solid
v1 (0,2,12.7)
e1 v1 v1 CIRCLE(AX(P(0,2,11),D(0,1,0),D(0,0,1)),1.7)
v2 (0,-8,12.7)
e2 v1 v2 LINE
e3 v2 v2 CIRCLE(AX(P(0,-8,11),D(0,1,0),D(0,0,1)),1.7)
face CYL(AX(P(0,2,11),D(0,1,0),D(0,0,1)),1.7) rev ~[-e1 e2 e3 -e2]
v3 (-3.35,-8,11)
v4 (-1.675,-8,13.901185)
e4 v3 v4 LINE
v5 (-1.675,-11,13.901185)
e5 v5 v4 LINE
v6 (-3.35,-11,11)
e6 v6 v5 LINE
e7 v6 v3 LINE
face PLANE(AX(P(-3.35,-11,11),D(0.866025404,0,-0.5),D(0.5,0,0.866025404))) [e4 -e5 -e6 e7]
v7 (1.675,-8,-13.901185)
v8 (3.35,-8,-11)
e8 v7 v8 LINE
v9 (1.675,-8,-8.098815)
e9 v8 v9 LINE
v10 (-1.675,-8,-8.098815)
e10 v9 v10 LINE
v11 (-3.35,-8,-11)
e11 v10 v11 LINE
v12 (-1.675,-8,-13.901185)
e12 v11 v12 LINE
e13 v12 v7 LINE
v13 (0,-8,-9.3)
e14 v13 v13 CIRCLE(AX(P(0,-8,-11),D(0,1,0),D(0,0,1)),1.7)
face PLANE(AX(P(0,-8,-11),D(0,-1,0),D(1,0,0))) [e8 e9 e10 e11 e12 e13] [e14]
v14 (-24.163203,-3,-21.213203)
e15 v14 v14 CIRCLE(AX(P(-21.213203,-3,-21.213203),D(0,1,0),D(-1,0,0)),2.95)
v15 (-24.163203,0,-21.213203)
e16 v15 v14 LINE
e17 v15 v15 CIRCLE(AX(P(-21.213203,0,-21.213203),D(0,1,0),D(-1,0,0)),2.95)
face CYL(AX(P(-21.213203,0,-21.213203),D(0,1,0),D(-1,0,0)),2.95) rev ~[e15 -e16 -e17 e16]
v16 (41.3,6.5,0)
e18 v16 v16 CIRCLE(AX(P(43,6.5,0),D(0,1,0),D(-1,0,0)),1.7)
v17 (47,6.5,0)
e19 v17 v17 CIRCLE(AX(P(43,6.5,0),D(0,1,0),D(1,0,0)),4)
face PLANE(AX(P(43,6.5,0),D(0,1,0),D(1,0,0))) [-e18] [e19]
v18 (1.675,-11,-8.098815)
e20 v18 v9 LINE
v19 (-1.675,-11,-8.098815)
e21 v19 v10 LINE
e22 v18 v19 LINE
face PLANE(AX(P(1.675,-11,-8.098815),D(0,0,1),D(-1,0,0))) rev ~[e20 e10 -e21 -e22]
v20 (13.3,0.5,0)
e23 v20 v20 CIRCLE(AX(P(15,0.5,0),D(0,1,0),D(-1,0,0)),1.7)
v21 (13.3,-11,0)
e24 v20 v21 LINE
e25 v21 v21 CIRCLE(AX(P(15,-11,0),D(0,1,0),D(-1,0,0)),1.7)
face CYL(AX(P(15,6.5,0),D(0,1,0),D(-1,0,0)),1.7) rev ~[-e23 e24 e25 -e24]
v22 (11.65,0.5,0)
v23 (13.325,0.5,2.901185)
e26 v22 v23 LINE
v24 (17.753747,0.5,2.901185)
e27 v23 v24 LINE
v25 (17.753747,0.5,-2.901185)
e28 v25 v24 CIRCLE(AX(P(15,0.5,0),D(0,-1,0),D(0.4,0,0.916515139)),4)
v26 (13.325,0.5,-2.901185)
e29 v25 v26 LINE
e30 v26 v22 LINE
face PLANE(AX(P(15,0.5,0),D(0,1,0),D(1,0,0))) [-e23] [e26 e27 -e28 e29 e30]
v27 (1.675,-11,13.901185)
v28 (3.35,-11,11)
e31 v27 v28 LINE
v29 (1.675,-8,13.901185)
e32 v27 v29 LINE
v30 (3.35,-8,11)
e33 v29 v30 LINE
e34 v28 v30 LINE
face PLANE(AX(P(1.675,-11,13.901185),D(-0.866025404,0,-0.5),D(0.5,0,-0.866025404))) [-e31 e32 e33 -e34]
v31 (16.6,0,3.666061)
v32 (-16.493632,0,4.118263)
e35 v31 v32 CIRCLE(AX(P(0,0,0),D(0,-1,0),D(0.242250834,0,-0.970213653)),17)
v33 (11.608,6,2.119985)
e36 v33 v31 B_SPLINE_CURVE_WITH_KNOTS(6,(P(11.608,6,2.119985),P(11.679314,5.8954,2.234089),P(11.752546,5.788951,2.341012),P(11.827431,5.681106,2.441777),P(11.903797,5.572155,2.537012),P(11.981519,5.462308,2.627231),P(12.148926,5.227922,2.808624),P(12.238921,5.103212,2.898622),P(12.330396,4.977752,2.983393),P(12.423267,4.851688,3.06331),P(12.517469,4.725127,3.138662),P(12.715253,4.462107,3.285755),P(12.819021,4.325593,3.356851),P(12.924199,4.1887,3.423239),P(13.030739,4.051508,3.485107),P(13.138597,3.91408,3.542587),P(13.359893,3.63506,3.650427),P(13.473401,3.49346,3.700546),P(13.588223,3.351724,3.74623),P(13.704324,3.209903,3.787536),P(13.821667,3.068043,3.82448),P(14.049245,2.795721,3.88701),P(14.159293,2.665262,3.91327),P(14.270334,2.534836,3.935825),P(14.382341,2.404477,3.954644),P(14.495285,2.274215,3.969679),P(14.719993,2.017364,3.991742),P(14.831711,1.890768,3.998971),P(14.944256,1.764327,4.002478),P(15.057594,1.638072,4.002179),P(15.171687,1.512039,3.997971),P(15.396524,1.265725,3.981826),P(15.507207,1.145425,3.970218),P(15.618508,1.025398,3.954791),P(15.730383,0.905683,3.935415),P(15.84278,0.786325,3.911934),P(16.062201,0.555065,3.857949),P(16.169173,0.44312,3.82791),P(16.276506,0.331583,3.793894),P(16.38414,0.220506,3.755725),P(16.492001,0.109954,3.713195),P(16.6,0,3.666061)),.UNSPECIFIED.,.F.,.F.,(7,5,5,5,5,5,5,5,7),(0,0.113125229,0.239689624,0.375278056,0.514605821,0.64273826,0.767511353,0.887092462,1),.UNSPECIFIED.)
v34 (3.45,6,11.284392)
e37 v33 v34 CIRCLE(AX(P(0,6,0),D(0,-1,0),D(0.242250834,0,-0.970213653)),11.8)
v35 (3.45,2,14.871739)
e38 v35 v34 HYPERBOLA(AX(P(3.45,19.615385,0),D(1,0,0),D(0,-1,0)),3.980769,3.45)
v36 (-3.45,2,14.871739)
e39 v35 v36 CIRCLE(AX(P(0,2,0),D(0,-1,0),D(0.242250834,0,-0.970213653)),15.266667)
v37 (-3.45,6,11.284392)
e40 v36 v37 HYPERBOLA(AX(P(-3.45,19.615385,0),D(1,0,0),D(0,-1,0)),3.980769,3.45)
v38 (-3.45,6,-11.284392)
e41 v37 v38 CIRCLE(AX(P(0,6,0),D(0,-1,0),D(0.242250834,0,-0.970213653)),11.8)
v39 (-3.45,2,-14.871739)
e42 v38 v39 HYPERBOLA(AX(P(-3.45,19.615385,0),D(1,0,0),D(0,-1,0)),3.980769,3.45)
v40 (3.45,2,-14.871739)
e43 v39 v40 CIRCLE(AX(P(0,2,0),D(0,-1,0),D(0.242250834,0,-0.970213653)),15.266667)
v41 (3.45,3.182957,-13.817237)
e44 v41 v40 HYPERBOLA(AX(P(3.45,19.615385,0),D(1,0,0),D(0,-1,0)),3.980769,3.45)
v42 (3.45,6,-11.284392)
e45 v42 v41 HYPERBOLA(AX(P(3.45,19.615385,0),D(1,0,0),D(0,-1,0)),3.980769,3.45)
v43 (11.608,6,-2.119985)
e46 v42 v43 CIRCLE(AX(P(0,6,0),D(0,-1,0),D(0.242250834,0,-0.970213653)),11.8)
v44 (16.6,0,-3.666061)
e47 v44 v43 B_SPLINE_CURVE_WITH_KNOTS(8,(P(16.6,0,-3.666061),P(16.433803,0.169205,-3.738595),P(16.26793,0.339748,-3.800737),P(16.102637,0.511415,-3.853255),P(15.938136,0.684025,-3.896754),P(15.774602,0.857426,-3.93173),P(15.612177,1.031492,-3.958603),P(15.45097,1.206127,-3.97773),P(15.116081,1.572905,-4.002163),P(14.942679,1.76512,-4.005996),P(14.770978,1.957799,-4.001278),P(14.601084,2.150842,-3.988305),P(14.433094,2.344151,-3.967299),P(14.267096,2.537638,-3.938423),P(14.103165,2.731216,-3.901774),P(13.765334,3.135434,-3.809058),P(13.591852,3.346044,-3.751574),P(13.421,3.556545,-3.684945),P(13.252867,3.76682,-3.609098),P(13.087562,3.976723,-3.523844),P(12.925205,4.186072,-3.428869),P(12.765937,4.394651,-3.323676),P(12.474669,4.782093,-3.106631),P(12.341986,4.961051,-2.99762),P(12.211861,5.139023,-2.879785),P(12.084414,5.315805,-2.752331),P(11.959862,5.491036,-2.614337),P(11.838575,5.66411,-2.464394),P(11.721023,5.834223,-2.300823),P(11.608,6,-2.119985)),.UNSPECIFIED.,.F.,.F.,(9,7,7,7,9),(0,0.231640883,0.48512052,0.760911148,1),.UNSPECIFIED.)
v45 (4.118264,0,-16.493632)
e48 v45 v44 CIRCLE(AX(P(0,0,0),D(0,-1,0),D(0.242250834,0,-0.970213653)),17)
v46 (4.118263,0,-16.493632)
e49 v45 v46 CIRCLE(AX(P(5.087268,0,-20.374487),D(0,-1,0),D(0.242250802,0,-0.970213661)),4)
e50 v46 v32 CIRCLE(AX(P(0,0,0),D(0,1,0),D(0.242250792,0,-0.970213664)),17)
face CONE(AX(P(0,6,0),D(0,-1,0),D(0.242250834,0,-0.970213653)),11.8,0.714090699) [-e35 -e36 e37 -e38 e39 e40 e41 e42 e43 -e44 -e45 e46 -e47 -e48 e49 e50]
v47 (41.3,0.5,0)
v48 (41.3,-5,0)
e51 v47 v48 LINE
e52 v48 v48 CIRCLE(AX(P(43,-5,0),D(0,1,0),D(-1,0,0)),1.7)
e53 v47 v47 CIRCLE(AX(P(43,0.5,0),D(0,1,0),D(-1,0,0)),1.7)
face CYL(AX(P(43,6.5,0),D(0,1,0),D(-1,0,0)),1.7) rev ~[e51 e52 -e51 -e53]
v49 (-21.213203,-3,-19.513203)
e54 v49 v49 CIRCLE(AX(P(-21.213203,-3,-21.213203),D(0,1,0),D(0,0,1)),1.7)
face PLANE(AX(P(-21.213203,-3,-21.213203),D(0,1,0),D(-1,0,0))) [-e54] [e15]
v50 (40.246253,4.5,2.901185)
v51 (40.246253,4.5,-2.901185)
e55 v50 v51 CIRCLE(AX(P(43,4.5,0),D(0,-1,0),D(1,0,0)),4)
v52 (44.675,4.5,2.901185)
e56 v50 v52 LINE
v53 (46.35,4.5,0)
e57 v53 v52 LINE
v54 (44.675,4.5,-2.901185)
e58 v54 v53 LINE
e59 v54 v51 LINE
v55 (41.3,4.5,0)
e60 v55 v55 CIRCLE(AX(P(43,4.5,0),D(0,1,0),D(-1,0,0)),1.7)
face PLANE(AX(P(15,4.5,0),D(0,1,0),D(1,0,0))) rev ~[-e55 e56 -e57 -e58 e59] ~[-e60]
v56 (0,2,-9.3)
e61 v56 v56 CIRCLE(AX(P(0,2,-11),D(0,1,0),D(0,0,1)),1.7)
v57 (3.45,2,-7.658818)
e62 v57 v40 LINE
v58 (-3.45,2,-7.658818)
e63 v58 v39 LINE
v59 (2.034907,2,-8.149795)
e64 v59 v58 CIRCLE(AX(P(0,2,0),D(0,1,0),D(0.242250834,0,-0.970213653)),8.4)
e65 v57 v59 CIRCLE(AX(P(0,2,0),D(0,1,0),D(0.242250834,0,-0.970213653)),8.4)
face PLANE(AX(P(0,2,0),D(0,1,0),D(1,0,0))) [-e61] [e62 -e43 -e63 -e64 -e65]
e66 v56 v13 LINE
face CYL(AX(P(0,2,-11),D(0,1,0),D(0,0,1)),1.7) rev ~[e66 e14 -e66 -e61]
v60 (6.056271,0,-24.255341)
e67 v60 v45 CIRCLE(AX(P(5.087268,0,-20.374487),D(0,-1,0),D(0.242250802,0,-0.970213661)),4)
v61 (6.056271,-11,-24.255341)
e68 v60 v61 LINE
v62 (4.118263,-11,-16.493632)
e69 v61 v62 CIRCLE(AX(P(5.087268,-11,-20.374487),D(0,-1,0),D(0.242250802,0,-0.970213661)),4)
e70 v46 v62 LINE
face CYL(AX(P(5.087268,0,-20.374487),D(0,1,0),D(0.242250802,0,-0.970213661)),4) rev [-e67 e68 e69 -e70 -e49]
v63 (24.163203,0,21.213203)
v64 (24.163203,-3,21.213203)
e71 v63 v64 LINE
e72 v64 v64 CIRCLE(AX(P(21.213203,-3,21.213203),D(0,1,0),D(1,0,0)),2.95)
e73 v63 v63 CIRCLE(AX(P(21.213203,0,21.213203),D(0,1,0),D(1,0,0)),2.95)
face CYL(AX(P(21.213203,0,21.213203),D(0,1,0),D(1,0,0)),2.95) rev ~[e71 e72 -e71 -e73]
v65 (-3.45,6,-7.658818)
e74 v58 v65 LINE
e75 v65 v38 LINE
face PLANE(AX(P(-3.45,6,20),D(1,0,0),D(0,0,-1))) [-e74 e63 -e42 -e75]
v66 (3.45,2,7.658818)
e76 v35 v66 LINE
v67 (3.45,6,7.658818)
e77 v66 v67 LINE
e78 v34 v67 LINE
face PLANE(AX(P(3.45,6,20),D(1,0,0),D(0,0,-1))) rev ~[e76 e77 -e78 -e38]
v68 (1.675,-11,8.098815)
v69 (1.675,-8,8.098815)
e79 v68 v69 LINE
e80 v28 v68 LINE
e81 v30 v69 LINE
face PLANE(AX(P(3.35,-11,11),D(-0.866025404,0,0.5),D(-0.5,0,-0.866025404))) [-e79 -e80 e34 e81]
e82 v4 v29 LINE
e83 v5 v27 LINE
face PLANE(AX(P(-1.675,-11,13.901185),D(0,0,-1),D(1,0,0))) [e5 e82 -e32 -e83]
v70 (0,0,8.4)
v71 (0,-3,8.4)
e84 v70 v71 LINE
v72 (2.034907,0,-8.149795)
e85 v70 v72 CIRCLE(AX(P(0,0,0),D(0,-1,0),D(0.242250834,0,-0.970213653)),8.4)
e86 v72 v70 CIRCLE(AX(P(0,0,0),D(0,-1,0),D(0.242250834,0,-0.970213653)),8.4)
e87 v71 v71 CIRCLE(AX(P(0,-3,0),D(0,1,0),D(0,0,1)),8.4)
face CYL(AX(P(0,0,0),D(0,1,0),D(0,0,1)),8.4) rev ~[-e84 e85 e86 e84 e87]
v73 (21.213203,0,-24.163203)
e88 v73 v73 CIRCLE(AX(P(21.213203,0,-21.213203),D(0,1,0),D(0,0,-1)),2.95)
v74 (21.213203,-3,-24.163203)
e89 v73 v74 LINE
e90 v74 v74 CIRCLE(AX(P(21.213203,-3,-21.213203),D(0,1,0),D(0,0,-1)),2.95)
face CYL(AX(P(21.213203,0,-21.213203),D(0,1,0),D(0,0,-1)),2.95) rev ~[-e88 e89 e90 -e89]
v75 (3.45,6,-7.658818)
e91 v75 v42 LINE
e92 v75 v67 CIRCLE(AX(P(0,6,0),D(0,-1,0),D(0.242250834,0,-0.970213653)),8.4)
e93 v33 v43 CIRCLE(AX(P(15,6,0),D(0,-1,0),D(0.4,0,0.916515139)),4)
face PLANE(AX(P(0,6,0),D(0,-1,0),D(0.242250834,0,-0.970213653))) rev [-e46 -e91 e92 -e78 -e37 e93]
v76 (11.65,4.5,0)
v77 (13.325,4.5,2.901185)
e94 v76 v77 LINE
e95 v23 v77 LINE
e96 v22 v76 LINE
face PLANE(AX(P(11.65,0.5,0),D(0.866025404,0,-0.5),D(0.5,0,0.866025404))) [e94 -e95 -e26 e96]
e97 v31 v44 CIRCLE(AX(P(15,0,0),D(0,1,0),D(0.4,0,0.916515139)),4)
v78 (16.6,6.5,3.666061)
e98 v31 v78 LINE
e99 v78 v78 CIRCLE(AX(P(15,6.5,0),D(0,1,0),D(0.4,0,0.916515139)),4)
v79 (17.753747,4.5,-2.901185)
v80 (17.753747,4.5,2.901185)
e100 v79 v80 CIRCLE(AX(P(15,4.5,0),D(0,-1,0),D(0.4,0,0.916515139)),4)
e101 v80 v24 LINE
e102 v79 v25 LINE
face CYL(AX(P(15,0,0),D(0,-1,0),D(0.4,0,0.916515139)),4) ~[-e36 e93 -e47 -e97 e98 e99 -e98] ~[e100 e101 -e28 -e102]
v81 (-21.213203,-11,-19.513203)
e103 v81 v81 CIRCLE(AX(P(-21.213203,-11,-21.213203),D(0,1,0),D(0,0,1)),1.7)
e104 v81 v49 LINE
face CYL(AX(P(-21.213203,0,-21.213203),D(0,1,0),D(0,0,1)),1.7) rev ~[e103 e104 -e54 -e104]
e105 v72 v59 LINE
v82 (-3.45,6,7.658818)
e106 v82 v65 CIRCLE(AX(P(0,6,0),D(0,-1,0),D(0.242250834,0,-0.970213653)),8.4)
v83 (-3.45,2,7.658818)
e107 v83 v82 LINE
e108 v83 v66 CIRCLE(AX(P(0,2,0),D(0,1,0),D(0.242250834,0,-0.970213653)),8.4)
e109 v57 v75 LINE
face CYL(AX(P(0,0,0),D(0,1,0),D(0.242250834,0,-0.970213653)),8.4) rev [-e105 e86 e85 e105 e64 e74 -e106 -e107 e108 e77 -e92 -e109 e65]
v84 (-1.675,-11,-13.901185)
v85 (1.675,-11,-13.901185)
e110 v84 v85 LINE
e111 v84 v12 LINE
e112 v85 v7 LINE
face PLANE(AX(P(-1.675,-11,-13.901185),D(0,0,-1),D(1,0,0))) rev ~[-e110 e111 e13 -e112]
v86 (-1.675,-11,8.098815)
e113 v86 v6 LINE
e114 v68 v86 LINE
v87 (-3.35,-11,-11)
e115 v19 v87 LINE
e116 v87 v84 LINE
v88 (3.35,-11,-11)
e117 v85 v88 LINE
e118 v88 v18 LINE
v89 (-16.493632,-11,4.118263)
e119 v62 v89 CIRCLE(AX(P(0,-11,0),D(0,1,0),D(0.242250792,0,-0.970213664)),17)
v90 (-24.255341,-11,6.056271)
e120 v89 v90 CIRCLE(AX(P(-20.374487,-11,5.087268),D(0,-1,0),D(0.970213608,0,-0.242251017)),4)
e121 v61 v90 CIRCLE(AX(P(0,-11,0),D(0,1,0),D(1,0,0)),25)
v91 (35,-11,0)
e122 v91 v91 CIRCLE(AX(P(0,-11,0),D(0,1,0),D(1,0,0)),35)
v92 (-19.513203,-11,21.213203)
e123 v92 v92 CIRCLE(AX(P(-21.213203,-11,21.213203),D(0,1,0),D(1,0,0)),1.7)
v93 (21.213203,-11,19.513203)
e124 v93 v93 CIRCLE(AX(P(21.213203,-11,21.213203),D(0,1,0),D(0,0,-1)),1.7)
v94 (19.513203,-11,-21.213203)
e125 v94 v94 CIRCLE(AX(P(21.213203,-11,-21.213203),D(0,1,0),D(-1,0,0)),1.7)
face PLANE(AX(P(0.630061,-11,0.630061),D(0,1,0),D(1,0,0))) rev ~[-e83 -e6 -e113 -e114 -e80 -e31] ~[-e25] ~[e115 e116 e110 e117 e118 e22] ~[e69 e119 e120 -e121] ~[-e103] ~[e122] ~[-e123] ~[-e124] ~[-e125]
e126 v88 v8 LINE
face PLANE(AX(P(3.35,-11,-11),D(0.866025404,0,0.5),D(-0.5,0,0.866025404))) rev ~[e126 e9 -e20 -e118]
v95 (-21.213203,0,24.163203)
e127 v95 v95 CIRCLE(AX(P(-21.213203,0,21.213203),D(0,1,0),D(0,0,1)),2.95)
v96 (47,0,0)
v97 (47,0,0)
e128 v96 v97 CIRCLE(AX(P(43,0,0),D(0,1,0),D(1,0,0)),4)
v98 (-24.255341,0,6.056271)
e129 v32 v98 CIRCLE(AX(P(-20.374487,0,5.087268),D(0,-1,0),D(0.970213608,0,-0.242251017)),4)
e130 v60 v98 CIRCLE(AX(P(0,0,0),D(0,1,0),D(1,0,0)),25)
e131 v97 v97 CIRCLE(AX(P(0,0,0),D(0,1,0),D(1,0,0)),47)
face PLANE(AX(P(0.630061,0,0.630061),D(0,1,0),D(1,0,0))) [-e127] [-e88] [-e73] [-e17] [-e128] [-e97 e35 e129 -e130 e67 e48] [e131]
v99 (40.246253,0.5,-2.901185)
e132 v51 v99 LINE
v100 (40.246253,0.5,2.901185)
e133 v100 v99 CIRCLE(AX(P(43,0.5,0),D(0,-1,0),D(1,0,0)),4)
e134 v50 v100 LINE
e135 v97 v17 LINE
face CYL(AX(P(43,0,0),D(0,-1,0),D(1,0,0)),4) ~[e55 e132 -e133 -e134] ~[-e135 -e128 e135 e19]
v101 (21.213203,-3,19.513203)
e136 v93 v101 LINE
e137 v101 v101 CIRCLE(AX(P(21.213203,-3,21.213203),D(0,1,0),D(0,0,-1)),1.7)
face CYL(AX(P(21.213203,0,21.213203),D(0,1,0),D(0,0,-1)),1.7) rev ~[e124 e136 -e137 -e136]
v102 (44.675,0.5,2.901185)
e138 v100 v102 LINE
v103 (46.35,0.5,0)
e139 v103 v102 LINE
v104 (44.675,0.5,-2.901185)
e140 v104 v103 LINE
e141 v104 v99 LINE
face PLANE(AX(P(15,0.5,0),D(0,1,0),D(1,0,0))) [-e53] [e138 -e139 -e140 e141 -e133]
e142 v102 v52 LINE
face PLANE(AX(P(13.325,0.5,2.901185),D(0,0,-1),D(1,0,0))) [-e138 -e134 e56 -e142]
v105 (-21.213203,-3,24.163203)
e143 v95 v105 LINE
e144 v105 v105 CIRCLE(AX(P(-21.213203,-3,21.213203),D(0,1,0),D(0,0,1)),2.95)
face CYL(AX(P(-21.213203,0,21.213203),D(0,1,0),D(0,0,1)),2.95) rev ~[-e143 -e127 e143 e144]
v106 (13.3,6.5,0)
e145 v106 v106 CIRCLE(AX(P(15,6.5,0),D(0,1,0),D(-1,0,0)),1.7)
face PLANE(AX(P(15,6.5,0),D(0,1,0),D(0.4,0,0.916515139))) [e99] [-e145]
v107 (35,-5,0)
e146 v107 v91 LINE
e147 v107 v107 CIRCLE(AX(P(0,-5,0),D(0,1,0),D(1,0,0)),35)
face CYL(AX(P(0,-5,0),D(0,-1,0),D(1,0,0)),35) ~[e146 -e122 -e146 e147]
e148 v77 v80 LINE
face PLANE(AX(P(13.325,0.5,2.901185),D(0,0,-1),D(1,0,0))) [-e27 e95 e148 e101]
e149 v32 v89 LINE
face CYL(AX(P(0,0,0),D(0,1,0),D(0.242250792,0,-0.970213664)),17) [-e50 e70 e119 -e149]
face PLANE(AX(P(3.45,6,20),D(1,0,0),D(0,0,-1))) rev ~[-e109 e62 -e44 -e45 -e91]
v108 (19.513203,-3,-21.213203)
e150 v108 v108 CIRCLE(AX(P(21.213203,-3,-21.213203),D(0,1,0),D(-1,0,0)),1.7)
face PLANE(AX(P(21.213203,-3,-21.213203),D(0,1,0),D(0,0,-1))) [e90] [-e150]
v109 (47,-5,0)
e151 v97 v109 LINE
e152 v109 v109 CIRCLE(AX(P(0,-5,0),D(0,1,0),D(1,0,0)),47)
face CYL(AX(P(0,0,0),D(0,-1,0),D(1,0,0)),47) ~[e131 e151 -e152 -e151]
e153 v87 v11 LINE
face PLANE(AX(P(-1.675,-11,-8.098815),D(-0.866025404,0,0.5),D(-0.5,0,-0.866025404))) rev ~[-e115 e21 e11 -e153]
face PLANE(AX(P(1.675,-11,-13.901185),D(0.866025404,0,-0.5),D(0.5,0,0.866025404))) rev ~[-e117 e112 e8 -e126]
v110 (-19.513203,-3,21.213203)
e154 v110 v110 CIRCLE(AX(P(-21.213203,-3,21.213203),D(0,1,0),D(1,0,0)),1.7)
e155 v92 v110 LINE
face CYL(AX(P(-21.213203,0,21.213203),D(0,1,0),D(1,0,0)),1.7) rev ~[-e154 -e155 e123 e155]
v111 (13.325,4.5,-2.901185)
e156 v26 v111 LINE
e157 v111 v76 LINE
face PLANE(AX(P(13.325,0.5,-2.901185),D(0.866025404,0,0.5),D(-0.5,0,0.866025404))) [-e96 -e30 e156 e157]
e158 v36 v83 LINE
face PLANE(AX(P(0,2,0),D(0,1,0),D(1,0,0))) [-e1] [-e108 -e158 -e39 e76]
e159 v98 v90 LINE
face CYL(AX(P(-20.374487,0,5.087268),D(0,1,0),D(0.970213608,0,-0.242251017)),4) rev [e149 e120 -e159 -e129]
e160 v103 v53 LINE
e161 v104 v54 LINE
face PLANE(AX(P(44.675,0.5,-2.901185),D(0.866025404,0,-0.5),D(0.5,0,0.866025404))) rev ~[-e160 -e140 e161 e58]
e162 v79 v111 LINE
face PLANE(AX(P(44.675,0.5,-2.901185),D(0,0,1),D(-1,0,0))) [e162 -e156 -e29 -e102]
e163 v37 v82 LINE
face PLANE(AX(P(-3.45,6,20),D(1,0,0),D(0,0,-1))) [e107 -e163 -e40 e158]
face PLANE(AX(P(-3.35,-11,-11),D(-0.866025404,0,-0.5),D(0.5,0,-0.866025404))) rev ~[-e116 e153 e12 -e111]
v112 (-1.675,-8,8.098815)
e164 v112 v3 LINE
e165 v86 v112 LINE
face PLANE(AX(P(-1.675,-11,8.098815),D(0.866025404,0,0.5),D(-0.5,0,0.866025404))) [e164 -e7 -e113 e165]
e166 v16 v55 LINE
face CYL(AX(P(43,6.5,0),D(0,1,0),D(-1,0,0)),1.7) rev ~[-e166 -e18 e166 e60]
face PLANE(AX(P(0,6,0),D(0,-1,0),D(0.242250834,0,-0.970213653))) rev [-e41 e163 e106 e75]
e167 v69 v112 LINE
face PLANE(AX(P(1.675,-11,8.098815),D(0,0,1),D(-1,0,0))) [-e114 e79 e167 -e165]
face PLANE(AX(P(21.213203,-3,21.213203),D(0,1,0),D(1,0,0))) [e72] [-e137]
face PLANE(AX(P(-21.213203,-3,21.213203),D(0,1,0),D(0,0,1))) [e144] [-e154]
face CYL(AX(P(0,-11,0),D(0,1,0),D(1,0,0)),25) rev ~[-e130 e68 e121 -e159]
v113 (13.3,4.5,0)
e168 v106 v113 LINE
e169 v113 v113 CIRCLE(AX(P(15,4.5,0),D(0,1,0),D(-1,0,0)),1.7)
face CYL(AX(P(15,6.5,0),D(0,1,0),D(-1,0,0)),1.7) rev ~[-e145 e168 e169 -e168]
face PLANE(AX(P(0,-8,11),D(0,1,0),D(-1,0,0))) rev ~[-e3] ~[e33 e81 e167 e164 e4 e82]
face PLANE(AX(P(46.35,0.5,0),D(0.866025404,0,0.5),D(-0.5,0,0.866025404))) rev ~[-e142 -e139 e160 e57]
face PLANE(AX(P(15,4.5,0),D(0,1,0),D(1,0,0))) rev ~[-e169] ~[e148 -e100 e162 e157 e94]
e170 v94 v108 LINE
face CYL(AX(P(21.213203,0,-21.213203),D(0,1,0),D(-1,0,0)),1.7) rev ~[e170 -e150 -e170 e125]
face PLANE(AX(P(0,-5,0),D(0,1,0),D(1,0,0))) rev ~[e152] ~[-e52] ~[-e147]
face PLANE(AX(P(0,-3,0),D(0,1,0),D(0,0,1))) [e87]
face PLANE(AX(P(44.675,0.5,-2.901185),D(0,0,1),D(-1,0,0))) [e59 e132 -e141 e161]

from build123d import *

# Parameters (mm, degrees)
SKETCH3_R               = 1.7
CUT_EXTRUDE1_DEPTH      = 68.372101051
CIRPATTERN1_COUNT       = 4
BOSS_EXTRUDE1_DEPTH     = 11
SKETCH6_R               = 8.4
CUT_EXTRUDE2_DEPTH      = 3
SKETCH7_W               = 6.9
SKETCH7_H               = 40
CUT_EXTRUDE3_DEPTH      = 4
SKETCH8_R               = 1.7
CUT_EXTRUDE4_DEPTH      = 68.727394753
SKETCH9_R               = 4
BOSS_EXTRUDE2_DEPTH     = 6.5
SKETCH10_R              = 1.7
CUT_EXTRUDE5_DEPTH      = 69.733179761
CUT_EXTRUDE6_DEPTH      = 1
CUT_EXTRUDE6_DEPTH_BACK = 3
SKETCH12_R              = 2.95
CUT_EXTRUDE7_DEPTH      = 3
CIRPATTERN2_COUNT       = 4
CUT_EXTRUDE8_DEPTH      = 3


with BuildPart() as part:
    # Sketch1 → Revolve1 (revolve)
    with BuildSketch(Plane.XY):
        Polygon((25, 0), (47, 0), (47, -5), (35, -5), (35, -11), (25, -11), align=None)
    revolve(axis=Axis((0, -62.255842479, 0), (0, 1, 0)))

    # Sketch3 → Cut-Extrude1 (cut, symmetric)
    with BuildSketch(Plane(origin=(0, 0, 0), x_dir=(1, 0, 0), z_dir=(0, 1, 0))):
        with Locations(Location((21.213203436, 21.213203436, 0), (0, 0, 180))):
            Circle(SKETCH3_R)
    cut_extrude1 = extrude(amount=CUT_EXTRUDE1_DEPTH, both=True, mode=Mode.SUBTRACT)

    # CirPattern1: Cut-Extrude1 ×4 about axis
    cirpattern1_axis = Axis((0, 0, 0), (0, 1, 0))
    for i in range(1, CIRPATTERN1_COUNT):
        add(cut_extrude1.rotate(cirpattern1_axis, i * 360 / CIRPATTERN1_COUNT), mode=Mode.SUBTRACT)

    # Sketch4 → Boss-Extrude1 (add, through all)
    with BuildSketch(Plane(origin=(0, 0, 0), x_dir=(1, 0, 0), z_dir=(0, 1, 0))):
        with BuildLine():
            ThreePointArc((4.118263467, 16.493632287), (-12.020815273, 12.020815288), (-16.493632292, -4.118263447))
            ThreePointArc((-16.493632292, -4.118263447), (-19.405482869, -8.968121999), (-24.255341261, -6.056271155))
            ThreePointArc((-24.255341261, -6.056271155), (17.677669687, -17.677669372), (6.056270723, 24.255341369))
            ThreePointArc((6.056270723, 24.255341369), (8.968122055, 19.405483096), (4.118263467, 16.493632287))
        make_face()
    extrude(amount=-BOSS_EXTRUDE1_DEPTH)

    # Sketch5 → Revolve2 (revolve)
    with BuildSketch(Plane(origin=(0, 0, 0), x_dir=(0, 0, -1), z_dir=(1, 0, 0)), mode=Mode.PRIVATE) as revolve2_sk:
        Polygon((-8.4, 0), (-8.4, 6), (-11.8, 6), (-17, 0), align=None)
    revolve(revolve2_sk.sketch.rotate(Axis((0, 0, 0), (0, -1, 0)), 194.019424572), axis=Axis((0, 0, 0), (0, -1, 0)))

    # Sketch6 → Cut-Extrude2 (cut)
    with BuildSketch(Plane(origin=(0, 0, 0), x_dir=(1, 0, 0), z_dir=(0, 1, 0))):
        with Locations(Location((0, 0, 0), (0, 0, 270))):
            Circle(SKETCH6_R)
    extrude(amount=-CUT_EXTRUDE2_DEPTH, mode=Mode.SUBTRACT)

    # Sketch7 → Cut-Extrude3 (cut)
    with BuildSketch(Plane(origin=(0, 6, 0), x_dir=(1, 0, 0), z_dir=(0, 1, 0))):
        Rectangle(SKETCH7_W, SKETCH7_H)
    extrude(amount=-CUT_EXTRUDE3_DEPTH, mode=Mode.SUBTRACT)

    # Sketch8 → Cut-Extrude4 (cut, through all)
    with BuildSketch(Plane(origin=(0, 2, 0), x_dir=(1, 0, 0), z_dir=(0, 1, 0))):
        with Locations(Location((0, 11, 0), (0, 0, 270))):
            Circle(SKETCH8_R)
        with Locations(Location((0, -11, 0), (0, 0, 270))):
            Circle(SKETCH8_R)
    extrude(amount=-CUT_EXTRUDE4_DEPTH, mode=Mode.SUBTRACT)

    # Sketch9 → Boss-Extrude2 (add)
    with BuildSketch(Plane(origin=(0, 0, 0), x_dir=(1, 0, 0), z_dir=(0, 1, 0))):
        with Locations((43, 0)):
            Circle(SKETCH9_R)
        with Locations(Location((15, 0, 0), (0, 0, 293.578178493))):
            Circle(SKETCH9_R)
    extrude(amount=BOSS_EXTRUDE2_DEPTH)

    # Sketch10 → Cut-Extrude5 (cut, through all)
    with BuildSketch(Plane(origin=(0, 6.5, 0), x_dir=(1, 0, 0), z_dir=(0, 1, 0))):
        with Locations(Location((15, 0, 0), (0, 0, 180))):
            Circle(SKETCH10_R)
        with Locations(Location((43, 0, 0), (0, 0, 180))):
            Circle(SKETCH10_R)
    extrude(amount=-CUT_EXTRUDE5_DEPTH, mode=Mode.SUBTRACT)

    # Sketch11 → Cut-Extrude6 (cut, two sides: drawn at the far end of the back side and taken through both)
    with BuildSketch(Plane(origin=(0, 3.5, 0), x_dir=(1, 0, 0), z_dir=(0, 1, 0)).offset(-CUT_EXTRUDE6_DEPTH_BACK)):
        Polygon((18.35, 0), (16.675, 2.901185103), (13.325, 2.901185103), (11.65, 0), (13.325, -2.901185103), (16.675, -2.901185103), align=None)
        Polygon((41.325, 2.901185103), (44.675, 2.901185103), (46.35, 0), (44.675, -2.901185103), (41.325, -2.901185103), (39.65, 0), align=None)
        Polygon((16.675, -2.901185103), (18.35, 0), (16.675, 2.901185103), (41.325, 2.901185103), (39.65, 0), (41.325, -2.901185103), align=None)
    extrude(amount=CUT_EXTRUDE6_DEPTH + CUT_EXTRUDE6_DEPTH_BACK, mode=Mode.SUBTRACT)

    # Sketch12 → Cut-Extrude7 (cut)
    with BuildSketch(Plane(origin=(0, 0, 0), x_dir=(1, 0, 0), z_dir=(0, 1, 0))):
        with Locations(Location((-21.213203436, 21.213203436, 0), (0, 0, 180))):
            Circle(SKETCH12_R)
    cut_extrude7 = extrude(amount=-CUT_EXTRUDE7_DEPTH, mode=Mode.SUBTRACT)

    # CirPattern2: Cut-Extrude7 ×4 about axis
    cirpattern2_axis = Axis((0, 0, 0), (0, 1, 0))
    for i in range(1, CIRPATTERN2_COUNT):
        add(cut_extrude7.rotate(cirpattern2_axis, i * 360 / CIRPATTERN2_COUNT), mode=Mode.SUBTRACT)

    # Sketch14 → Cut-Extrude8 (cut)
    with BuildSketch(Plane.XZ.offset(11)):
        Polygon((-1.675, 13.901185103), (1.675, 13.901185103), (3.35, 11), (1.675, 8.098814897), (-1.675, 8.098814897), (-3.35, 11), align=None)
        Polygon((-1.675, -8.098814897), (-3.35, -11), (-1.675, -13.901185103), (1.675, -13.901185103), (3.35, -11), (1.675, -8.098814897), align=None)
    extrude(amount=-CUT_EXTRUDE8_DEPTH, mode=Mode.SUBTRACT)


solid = part.part
